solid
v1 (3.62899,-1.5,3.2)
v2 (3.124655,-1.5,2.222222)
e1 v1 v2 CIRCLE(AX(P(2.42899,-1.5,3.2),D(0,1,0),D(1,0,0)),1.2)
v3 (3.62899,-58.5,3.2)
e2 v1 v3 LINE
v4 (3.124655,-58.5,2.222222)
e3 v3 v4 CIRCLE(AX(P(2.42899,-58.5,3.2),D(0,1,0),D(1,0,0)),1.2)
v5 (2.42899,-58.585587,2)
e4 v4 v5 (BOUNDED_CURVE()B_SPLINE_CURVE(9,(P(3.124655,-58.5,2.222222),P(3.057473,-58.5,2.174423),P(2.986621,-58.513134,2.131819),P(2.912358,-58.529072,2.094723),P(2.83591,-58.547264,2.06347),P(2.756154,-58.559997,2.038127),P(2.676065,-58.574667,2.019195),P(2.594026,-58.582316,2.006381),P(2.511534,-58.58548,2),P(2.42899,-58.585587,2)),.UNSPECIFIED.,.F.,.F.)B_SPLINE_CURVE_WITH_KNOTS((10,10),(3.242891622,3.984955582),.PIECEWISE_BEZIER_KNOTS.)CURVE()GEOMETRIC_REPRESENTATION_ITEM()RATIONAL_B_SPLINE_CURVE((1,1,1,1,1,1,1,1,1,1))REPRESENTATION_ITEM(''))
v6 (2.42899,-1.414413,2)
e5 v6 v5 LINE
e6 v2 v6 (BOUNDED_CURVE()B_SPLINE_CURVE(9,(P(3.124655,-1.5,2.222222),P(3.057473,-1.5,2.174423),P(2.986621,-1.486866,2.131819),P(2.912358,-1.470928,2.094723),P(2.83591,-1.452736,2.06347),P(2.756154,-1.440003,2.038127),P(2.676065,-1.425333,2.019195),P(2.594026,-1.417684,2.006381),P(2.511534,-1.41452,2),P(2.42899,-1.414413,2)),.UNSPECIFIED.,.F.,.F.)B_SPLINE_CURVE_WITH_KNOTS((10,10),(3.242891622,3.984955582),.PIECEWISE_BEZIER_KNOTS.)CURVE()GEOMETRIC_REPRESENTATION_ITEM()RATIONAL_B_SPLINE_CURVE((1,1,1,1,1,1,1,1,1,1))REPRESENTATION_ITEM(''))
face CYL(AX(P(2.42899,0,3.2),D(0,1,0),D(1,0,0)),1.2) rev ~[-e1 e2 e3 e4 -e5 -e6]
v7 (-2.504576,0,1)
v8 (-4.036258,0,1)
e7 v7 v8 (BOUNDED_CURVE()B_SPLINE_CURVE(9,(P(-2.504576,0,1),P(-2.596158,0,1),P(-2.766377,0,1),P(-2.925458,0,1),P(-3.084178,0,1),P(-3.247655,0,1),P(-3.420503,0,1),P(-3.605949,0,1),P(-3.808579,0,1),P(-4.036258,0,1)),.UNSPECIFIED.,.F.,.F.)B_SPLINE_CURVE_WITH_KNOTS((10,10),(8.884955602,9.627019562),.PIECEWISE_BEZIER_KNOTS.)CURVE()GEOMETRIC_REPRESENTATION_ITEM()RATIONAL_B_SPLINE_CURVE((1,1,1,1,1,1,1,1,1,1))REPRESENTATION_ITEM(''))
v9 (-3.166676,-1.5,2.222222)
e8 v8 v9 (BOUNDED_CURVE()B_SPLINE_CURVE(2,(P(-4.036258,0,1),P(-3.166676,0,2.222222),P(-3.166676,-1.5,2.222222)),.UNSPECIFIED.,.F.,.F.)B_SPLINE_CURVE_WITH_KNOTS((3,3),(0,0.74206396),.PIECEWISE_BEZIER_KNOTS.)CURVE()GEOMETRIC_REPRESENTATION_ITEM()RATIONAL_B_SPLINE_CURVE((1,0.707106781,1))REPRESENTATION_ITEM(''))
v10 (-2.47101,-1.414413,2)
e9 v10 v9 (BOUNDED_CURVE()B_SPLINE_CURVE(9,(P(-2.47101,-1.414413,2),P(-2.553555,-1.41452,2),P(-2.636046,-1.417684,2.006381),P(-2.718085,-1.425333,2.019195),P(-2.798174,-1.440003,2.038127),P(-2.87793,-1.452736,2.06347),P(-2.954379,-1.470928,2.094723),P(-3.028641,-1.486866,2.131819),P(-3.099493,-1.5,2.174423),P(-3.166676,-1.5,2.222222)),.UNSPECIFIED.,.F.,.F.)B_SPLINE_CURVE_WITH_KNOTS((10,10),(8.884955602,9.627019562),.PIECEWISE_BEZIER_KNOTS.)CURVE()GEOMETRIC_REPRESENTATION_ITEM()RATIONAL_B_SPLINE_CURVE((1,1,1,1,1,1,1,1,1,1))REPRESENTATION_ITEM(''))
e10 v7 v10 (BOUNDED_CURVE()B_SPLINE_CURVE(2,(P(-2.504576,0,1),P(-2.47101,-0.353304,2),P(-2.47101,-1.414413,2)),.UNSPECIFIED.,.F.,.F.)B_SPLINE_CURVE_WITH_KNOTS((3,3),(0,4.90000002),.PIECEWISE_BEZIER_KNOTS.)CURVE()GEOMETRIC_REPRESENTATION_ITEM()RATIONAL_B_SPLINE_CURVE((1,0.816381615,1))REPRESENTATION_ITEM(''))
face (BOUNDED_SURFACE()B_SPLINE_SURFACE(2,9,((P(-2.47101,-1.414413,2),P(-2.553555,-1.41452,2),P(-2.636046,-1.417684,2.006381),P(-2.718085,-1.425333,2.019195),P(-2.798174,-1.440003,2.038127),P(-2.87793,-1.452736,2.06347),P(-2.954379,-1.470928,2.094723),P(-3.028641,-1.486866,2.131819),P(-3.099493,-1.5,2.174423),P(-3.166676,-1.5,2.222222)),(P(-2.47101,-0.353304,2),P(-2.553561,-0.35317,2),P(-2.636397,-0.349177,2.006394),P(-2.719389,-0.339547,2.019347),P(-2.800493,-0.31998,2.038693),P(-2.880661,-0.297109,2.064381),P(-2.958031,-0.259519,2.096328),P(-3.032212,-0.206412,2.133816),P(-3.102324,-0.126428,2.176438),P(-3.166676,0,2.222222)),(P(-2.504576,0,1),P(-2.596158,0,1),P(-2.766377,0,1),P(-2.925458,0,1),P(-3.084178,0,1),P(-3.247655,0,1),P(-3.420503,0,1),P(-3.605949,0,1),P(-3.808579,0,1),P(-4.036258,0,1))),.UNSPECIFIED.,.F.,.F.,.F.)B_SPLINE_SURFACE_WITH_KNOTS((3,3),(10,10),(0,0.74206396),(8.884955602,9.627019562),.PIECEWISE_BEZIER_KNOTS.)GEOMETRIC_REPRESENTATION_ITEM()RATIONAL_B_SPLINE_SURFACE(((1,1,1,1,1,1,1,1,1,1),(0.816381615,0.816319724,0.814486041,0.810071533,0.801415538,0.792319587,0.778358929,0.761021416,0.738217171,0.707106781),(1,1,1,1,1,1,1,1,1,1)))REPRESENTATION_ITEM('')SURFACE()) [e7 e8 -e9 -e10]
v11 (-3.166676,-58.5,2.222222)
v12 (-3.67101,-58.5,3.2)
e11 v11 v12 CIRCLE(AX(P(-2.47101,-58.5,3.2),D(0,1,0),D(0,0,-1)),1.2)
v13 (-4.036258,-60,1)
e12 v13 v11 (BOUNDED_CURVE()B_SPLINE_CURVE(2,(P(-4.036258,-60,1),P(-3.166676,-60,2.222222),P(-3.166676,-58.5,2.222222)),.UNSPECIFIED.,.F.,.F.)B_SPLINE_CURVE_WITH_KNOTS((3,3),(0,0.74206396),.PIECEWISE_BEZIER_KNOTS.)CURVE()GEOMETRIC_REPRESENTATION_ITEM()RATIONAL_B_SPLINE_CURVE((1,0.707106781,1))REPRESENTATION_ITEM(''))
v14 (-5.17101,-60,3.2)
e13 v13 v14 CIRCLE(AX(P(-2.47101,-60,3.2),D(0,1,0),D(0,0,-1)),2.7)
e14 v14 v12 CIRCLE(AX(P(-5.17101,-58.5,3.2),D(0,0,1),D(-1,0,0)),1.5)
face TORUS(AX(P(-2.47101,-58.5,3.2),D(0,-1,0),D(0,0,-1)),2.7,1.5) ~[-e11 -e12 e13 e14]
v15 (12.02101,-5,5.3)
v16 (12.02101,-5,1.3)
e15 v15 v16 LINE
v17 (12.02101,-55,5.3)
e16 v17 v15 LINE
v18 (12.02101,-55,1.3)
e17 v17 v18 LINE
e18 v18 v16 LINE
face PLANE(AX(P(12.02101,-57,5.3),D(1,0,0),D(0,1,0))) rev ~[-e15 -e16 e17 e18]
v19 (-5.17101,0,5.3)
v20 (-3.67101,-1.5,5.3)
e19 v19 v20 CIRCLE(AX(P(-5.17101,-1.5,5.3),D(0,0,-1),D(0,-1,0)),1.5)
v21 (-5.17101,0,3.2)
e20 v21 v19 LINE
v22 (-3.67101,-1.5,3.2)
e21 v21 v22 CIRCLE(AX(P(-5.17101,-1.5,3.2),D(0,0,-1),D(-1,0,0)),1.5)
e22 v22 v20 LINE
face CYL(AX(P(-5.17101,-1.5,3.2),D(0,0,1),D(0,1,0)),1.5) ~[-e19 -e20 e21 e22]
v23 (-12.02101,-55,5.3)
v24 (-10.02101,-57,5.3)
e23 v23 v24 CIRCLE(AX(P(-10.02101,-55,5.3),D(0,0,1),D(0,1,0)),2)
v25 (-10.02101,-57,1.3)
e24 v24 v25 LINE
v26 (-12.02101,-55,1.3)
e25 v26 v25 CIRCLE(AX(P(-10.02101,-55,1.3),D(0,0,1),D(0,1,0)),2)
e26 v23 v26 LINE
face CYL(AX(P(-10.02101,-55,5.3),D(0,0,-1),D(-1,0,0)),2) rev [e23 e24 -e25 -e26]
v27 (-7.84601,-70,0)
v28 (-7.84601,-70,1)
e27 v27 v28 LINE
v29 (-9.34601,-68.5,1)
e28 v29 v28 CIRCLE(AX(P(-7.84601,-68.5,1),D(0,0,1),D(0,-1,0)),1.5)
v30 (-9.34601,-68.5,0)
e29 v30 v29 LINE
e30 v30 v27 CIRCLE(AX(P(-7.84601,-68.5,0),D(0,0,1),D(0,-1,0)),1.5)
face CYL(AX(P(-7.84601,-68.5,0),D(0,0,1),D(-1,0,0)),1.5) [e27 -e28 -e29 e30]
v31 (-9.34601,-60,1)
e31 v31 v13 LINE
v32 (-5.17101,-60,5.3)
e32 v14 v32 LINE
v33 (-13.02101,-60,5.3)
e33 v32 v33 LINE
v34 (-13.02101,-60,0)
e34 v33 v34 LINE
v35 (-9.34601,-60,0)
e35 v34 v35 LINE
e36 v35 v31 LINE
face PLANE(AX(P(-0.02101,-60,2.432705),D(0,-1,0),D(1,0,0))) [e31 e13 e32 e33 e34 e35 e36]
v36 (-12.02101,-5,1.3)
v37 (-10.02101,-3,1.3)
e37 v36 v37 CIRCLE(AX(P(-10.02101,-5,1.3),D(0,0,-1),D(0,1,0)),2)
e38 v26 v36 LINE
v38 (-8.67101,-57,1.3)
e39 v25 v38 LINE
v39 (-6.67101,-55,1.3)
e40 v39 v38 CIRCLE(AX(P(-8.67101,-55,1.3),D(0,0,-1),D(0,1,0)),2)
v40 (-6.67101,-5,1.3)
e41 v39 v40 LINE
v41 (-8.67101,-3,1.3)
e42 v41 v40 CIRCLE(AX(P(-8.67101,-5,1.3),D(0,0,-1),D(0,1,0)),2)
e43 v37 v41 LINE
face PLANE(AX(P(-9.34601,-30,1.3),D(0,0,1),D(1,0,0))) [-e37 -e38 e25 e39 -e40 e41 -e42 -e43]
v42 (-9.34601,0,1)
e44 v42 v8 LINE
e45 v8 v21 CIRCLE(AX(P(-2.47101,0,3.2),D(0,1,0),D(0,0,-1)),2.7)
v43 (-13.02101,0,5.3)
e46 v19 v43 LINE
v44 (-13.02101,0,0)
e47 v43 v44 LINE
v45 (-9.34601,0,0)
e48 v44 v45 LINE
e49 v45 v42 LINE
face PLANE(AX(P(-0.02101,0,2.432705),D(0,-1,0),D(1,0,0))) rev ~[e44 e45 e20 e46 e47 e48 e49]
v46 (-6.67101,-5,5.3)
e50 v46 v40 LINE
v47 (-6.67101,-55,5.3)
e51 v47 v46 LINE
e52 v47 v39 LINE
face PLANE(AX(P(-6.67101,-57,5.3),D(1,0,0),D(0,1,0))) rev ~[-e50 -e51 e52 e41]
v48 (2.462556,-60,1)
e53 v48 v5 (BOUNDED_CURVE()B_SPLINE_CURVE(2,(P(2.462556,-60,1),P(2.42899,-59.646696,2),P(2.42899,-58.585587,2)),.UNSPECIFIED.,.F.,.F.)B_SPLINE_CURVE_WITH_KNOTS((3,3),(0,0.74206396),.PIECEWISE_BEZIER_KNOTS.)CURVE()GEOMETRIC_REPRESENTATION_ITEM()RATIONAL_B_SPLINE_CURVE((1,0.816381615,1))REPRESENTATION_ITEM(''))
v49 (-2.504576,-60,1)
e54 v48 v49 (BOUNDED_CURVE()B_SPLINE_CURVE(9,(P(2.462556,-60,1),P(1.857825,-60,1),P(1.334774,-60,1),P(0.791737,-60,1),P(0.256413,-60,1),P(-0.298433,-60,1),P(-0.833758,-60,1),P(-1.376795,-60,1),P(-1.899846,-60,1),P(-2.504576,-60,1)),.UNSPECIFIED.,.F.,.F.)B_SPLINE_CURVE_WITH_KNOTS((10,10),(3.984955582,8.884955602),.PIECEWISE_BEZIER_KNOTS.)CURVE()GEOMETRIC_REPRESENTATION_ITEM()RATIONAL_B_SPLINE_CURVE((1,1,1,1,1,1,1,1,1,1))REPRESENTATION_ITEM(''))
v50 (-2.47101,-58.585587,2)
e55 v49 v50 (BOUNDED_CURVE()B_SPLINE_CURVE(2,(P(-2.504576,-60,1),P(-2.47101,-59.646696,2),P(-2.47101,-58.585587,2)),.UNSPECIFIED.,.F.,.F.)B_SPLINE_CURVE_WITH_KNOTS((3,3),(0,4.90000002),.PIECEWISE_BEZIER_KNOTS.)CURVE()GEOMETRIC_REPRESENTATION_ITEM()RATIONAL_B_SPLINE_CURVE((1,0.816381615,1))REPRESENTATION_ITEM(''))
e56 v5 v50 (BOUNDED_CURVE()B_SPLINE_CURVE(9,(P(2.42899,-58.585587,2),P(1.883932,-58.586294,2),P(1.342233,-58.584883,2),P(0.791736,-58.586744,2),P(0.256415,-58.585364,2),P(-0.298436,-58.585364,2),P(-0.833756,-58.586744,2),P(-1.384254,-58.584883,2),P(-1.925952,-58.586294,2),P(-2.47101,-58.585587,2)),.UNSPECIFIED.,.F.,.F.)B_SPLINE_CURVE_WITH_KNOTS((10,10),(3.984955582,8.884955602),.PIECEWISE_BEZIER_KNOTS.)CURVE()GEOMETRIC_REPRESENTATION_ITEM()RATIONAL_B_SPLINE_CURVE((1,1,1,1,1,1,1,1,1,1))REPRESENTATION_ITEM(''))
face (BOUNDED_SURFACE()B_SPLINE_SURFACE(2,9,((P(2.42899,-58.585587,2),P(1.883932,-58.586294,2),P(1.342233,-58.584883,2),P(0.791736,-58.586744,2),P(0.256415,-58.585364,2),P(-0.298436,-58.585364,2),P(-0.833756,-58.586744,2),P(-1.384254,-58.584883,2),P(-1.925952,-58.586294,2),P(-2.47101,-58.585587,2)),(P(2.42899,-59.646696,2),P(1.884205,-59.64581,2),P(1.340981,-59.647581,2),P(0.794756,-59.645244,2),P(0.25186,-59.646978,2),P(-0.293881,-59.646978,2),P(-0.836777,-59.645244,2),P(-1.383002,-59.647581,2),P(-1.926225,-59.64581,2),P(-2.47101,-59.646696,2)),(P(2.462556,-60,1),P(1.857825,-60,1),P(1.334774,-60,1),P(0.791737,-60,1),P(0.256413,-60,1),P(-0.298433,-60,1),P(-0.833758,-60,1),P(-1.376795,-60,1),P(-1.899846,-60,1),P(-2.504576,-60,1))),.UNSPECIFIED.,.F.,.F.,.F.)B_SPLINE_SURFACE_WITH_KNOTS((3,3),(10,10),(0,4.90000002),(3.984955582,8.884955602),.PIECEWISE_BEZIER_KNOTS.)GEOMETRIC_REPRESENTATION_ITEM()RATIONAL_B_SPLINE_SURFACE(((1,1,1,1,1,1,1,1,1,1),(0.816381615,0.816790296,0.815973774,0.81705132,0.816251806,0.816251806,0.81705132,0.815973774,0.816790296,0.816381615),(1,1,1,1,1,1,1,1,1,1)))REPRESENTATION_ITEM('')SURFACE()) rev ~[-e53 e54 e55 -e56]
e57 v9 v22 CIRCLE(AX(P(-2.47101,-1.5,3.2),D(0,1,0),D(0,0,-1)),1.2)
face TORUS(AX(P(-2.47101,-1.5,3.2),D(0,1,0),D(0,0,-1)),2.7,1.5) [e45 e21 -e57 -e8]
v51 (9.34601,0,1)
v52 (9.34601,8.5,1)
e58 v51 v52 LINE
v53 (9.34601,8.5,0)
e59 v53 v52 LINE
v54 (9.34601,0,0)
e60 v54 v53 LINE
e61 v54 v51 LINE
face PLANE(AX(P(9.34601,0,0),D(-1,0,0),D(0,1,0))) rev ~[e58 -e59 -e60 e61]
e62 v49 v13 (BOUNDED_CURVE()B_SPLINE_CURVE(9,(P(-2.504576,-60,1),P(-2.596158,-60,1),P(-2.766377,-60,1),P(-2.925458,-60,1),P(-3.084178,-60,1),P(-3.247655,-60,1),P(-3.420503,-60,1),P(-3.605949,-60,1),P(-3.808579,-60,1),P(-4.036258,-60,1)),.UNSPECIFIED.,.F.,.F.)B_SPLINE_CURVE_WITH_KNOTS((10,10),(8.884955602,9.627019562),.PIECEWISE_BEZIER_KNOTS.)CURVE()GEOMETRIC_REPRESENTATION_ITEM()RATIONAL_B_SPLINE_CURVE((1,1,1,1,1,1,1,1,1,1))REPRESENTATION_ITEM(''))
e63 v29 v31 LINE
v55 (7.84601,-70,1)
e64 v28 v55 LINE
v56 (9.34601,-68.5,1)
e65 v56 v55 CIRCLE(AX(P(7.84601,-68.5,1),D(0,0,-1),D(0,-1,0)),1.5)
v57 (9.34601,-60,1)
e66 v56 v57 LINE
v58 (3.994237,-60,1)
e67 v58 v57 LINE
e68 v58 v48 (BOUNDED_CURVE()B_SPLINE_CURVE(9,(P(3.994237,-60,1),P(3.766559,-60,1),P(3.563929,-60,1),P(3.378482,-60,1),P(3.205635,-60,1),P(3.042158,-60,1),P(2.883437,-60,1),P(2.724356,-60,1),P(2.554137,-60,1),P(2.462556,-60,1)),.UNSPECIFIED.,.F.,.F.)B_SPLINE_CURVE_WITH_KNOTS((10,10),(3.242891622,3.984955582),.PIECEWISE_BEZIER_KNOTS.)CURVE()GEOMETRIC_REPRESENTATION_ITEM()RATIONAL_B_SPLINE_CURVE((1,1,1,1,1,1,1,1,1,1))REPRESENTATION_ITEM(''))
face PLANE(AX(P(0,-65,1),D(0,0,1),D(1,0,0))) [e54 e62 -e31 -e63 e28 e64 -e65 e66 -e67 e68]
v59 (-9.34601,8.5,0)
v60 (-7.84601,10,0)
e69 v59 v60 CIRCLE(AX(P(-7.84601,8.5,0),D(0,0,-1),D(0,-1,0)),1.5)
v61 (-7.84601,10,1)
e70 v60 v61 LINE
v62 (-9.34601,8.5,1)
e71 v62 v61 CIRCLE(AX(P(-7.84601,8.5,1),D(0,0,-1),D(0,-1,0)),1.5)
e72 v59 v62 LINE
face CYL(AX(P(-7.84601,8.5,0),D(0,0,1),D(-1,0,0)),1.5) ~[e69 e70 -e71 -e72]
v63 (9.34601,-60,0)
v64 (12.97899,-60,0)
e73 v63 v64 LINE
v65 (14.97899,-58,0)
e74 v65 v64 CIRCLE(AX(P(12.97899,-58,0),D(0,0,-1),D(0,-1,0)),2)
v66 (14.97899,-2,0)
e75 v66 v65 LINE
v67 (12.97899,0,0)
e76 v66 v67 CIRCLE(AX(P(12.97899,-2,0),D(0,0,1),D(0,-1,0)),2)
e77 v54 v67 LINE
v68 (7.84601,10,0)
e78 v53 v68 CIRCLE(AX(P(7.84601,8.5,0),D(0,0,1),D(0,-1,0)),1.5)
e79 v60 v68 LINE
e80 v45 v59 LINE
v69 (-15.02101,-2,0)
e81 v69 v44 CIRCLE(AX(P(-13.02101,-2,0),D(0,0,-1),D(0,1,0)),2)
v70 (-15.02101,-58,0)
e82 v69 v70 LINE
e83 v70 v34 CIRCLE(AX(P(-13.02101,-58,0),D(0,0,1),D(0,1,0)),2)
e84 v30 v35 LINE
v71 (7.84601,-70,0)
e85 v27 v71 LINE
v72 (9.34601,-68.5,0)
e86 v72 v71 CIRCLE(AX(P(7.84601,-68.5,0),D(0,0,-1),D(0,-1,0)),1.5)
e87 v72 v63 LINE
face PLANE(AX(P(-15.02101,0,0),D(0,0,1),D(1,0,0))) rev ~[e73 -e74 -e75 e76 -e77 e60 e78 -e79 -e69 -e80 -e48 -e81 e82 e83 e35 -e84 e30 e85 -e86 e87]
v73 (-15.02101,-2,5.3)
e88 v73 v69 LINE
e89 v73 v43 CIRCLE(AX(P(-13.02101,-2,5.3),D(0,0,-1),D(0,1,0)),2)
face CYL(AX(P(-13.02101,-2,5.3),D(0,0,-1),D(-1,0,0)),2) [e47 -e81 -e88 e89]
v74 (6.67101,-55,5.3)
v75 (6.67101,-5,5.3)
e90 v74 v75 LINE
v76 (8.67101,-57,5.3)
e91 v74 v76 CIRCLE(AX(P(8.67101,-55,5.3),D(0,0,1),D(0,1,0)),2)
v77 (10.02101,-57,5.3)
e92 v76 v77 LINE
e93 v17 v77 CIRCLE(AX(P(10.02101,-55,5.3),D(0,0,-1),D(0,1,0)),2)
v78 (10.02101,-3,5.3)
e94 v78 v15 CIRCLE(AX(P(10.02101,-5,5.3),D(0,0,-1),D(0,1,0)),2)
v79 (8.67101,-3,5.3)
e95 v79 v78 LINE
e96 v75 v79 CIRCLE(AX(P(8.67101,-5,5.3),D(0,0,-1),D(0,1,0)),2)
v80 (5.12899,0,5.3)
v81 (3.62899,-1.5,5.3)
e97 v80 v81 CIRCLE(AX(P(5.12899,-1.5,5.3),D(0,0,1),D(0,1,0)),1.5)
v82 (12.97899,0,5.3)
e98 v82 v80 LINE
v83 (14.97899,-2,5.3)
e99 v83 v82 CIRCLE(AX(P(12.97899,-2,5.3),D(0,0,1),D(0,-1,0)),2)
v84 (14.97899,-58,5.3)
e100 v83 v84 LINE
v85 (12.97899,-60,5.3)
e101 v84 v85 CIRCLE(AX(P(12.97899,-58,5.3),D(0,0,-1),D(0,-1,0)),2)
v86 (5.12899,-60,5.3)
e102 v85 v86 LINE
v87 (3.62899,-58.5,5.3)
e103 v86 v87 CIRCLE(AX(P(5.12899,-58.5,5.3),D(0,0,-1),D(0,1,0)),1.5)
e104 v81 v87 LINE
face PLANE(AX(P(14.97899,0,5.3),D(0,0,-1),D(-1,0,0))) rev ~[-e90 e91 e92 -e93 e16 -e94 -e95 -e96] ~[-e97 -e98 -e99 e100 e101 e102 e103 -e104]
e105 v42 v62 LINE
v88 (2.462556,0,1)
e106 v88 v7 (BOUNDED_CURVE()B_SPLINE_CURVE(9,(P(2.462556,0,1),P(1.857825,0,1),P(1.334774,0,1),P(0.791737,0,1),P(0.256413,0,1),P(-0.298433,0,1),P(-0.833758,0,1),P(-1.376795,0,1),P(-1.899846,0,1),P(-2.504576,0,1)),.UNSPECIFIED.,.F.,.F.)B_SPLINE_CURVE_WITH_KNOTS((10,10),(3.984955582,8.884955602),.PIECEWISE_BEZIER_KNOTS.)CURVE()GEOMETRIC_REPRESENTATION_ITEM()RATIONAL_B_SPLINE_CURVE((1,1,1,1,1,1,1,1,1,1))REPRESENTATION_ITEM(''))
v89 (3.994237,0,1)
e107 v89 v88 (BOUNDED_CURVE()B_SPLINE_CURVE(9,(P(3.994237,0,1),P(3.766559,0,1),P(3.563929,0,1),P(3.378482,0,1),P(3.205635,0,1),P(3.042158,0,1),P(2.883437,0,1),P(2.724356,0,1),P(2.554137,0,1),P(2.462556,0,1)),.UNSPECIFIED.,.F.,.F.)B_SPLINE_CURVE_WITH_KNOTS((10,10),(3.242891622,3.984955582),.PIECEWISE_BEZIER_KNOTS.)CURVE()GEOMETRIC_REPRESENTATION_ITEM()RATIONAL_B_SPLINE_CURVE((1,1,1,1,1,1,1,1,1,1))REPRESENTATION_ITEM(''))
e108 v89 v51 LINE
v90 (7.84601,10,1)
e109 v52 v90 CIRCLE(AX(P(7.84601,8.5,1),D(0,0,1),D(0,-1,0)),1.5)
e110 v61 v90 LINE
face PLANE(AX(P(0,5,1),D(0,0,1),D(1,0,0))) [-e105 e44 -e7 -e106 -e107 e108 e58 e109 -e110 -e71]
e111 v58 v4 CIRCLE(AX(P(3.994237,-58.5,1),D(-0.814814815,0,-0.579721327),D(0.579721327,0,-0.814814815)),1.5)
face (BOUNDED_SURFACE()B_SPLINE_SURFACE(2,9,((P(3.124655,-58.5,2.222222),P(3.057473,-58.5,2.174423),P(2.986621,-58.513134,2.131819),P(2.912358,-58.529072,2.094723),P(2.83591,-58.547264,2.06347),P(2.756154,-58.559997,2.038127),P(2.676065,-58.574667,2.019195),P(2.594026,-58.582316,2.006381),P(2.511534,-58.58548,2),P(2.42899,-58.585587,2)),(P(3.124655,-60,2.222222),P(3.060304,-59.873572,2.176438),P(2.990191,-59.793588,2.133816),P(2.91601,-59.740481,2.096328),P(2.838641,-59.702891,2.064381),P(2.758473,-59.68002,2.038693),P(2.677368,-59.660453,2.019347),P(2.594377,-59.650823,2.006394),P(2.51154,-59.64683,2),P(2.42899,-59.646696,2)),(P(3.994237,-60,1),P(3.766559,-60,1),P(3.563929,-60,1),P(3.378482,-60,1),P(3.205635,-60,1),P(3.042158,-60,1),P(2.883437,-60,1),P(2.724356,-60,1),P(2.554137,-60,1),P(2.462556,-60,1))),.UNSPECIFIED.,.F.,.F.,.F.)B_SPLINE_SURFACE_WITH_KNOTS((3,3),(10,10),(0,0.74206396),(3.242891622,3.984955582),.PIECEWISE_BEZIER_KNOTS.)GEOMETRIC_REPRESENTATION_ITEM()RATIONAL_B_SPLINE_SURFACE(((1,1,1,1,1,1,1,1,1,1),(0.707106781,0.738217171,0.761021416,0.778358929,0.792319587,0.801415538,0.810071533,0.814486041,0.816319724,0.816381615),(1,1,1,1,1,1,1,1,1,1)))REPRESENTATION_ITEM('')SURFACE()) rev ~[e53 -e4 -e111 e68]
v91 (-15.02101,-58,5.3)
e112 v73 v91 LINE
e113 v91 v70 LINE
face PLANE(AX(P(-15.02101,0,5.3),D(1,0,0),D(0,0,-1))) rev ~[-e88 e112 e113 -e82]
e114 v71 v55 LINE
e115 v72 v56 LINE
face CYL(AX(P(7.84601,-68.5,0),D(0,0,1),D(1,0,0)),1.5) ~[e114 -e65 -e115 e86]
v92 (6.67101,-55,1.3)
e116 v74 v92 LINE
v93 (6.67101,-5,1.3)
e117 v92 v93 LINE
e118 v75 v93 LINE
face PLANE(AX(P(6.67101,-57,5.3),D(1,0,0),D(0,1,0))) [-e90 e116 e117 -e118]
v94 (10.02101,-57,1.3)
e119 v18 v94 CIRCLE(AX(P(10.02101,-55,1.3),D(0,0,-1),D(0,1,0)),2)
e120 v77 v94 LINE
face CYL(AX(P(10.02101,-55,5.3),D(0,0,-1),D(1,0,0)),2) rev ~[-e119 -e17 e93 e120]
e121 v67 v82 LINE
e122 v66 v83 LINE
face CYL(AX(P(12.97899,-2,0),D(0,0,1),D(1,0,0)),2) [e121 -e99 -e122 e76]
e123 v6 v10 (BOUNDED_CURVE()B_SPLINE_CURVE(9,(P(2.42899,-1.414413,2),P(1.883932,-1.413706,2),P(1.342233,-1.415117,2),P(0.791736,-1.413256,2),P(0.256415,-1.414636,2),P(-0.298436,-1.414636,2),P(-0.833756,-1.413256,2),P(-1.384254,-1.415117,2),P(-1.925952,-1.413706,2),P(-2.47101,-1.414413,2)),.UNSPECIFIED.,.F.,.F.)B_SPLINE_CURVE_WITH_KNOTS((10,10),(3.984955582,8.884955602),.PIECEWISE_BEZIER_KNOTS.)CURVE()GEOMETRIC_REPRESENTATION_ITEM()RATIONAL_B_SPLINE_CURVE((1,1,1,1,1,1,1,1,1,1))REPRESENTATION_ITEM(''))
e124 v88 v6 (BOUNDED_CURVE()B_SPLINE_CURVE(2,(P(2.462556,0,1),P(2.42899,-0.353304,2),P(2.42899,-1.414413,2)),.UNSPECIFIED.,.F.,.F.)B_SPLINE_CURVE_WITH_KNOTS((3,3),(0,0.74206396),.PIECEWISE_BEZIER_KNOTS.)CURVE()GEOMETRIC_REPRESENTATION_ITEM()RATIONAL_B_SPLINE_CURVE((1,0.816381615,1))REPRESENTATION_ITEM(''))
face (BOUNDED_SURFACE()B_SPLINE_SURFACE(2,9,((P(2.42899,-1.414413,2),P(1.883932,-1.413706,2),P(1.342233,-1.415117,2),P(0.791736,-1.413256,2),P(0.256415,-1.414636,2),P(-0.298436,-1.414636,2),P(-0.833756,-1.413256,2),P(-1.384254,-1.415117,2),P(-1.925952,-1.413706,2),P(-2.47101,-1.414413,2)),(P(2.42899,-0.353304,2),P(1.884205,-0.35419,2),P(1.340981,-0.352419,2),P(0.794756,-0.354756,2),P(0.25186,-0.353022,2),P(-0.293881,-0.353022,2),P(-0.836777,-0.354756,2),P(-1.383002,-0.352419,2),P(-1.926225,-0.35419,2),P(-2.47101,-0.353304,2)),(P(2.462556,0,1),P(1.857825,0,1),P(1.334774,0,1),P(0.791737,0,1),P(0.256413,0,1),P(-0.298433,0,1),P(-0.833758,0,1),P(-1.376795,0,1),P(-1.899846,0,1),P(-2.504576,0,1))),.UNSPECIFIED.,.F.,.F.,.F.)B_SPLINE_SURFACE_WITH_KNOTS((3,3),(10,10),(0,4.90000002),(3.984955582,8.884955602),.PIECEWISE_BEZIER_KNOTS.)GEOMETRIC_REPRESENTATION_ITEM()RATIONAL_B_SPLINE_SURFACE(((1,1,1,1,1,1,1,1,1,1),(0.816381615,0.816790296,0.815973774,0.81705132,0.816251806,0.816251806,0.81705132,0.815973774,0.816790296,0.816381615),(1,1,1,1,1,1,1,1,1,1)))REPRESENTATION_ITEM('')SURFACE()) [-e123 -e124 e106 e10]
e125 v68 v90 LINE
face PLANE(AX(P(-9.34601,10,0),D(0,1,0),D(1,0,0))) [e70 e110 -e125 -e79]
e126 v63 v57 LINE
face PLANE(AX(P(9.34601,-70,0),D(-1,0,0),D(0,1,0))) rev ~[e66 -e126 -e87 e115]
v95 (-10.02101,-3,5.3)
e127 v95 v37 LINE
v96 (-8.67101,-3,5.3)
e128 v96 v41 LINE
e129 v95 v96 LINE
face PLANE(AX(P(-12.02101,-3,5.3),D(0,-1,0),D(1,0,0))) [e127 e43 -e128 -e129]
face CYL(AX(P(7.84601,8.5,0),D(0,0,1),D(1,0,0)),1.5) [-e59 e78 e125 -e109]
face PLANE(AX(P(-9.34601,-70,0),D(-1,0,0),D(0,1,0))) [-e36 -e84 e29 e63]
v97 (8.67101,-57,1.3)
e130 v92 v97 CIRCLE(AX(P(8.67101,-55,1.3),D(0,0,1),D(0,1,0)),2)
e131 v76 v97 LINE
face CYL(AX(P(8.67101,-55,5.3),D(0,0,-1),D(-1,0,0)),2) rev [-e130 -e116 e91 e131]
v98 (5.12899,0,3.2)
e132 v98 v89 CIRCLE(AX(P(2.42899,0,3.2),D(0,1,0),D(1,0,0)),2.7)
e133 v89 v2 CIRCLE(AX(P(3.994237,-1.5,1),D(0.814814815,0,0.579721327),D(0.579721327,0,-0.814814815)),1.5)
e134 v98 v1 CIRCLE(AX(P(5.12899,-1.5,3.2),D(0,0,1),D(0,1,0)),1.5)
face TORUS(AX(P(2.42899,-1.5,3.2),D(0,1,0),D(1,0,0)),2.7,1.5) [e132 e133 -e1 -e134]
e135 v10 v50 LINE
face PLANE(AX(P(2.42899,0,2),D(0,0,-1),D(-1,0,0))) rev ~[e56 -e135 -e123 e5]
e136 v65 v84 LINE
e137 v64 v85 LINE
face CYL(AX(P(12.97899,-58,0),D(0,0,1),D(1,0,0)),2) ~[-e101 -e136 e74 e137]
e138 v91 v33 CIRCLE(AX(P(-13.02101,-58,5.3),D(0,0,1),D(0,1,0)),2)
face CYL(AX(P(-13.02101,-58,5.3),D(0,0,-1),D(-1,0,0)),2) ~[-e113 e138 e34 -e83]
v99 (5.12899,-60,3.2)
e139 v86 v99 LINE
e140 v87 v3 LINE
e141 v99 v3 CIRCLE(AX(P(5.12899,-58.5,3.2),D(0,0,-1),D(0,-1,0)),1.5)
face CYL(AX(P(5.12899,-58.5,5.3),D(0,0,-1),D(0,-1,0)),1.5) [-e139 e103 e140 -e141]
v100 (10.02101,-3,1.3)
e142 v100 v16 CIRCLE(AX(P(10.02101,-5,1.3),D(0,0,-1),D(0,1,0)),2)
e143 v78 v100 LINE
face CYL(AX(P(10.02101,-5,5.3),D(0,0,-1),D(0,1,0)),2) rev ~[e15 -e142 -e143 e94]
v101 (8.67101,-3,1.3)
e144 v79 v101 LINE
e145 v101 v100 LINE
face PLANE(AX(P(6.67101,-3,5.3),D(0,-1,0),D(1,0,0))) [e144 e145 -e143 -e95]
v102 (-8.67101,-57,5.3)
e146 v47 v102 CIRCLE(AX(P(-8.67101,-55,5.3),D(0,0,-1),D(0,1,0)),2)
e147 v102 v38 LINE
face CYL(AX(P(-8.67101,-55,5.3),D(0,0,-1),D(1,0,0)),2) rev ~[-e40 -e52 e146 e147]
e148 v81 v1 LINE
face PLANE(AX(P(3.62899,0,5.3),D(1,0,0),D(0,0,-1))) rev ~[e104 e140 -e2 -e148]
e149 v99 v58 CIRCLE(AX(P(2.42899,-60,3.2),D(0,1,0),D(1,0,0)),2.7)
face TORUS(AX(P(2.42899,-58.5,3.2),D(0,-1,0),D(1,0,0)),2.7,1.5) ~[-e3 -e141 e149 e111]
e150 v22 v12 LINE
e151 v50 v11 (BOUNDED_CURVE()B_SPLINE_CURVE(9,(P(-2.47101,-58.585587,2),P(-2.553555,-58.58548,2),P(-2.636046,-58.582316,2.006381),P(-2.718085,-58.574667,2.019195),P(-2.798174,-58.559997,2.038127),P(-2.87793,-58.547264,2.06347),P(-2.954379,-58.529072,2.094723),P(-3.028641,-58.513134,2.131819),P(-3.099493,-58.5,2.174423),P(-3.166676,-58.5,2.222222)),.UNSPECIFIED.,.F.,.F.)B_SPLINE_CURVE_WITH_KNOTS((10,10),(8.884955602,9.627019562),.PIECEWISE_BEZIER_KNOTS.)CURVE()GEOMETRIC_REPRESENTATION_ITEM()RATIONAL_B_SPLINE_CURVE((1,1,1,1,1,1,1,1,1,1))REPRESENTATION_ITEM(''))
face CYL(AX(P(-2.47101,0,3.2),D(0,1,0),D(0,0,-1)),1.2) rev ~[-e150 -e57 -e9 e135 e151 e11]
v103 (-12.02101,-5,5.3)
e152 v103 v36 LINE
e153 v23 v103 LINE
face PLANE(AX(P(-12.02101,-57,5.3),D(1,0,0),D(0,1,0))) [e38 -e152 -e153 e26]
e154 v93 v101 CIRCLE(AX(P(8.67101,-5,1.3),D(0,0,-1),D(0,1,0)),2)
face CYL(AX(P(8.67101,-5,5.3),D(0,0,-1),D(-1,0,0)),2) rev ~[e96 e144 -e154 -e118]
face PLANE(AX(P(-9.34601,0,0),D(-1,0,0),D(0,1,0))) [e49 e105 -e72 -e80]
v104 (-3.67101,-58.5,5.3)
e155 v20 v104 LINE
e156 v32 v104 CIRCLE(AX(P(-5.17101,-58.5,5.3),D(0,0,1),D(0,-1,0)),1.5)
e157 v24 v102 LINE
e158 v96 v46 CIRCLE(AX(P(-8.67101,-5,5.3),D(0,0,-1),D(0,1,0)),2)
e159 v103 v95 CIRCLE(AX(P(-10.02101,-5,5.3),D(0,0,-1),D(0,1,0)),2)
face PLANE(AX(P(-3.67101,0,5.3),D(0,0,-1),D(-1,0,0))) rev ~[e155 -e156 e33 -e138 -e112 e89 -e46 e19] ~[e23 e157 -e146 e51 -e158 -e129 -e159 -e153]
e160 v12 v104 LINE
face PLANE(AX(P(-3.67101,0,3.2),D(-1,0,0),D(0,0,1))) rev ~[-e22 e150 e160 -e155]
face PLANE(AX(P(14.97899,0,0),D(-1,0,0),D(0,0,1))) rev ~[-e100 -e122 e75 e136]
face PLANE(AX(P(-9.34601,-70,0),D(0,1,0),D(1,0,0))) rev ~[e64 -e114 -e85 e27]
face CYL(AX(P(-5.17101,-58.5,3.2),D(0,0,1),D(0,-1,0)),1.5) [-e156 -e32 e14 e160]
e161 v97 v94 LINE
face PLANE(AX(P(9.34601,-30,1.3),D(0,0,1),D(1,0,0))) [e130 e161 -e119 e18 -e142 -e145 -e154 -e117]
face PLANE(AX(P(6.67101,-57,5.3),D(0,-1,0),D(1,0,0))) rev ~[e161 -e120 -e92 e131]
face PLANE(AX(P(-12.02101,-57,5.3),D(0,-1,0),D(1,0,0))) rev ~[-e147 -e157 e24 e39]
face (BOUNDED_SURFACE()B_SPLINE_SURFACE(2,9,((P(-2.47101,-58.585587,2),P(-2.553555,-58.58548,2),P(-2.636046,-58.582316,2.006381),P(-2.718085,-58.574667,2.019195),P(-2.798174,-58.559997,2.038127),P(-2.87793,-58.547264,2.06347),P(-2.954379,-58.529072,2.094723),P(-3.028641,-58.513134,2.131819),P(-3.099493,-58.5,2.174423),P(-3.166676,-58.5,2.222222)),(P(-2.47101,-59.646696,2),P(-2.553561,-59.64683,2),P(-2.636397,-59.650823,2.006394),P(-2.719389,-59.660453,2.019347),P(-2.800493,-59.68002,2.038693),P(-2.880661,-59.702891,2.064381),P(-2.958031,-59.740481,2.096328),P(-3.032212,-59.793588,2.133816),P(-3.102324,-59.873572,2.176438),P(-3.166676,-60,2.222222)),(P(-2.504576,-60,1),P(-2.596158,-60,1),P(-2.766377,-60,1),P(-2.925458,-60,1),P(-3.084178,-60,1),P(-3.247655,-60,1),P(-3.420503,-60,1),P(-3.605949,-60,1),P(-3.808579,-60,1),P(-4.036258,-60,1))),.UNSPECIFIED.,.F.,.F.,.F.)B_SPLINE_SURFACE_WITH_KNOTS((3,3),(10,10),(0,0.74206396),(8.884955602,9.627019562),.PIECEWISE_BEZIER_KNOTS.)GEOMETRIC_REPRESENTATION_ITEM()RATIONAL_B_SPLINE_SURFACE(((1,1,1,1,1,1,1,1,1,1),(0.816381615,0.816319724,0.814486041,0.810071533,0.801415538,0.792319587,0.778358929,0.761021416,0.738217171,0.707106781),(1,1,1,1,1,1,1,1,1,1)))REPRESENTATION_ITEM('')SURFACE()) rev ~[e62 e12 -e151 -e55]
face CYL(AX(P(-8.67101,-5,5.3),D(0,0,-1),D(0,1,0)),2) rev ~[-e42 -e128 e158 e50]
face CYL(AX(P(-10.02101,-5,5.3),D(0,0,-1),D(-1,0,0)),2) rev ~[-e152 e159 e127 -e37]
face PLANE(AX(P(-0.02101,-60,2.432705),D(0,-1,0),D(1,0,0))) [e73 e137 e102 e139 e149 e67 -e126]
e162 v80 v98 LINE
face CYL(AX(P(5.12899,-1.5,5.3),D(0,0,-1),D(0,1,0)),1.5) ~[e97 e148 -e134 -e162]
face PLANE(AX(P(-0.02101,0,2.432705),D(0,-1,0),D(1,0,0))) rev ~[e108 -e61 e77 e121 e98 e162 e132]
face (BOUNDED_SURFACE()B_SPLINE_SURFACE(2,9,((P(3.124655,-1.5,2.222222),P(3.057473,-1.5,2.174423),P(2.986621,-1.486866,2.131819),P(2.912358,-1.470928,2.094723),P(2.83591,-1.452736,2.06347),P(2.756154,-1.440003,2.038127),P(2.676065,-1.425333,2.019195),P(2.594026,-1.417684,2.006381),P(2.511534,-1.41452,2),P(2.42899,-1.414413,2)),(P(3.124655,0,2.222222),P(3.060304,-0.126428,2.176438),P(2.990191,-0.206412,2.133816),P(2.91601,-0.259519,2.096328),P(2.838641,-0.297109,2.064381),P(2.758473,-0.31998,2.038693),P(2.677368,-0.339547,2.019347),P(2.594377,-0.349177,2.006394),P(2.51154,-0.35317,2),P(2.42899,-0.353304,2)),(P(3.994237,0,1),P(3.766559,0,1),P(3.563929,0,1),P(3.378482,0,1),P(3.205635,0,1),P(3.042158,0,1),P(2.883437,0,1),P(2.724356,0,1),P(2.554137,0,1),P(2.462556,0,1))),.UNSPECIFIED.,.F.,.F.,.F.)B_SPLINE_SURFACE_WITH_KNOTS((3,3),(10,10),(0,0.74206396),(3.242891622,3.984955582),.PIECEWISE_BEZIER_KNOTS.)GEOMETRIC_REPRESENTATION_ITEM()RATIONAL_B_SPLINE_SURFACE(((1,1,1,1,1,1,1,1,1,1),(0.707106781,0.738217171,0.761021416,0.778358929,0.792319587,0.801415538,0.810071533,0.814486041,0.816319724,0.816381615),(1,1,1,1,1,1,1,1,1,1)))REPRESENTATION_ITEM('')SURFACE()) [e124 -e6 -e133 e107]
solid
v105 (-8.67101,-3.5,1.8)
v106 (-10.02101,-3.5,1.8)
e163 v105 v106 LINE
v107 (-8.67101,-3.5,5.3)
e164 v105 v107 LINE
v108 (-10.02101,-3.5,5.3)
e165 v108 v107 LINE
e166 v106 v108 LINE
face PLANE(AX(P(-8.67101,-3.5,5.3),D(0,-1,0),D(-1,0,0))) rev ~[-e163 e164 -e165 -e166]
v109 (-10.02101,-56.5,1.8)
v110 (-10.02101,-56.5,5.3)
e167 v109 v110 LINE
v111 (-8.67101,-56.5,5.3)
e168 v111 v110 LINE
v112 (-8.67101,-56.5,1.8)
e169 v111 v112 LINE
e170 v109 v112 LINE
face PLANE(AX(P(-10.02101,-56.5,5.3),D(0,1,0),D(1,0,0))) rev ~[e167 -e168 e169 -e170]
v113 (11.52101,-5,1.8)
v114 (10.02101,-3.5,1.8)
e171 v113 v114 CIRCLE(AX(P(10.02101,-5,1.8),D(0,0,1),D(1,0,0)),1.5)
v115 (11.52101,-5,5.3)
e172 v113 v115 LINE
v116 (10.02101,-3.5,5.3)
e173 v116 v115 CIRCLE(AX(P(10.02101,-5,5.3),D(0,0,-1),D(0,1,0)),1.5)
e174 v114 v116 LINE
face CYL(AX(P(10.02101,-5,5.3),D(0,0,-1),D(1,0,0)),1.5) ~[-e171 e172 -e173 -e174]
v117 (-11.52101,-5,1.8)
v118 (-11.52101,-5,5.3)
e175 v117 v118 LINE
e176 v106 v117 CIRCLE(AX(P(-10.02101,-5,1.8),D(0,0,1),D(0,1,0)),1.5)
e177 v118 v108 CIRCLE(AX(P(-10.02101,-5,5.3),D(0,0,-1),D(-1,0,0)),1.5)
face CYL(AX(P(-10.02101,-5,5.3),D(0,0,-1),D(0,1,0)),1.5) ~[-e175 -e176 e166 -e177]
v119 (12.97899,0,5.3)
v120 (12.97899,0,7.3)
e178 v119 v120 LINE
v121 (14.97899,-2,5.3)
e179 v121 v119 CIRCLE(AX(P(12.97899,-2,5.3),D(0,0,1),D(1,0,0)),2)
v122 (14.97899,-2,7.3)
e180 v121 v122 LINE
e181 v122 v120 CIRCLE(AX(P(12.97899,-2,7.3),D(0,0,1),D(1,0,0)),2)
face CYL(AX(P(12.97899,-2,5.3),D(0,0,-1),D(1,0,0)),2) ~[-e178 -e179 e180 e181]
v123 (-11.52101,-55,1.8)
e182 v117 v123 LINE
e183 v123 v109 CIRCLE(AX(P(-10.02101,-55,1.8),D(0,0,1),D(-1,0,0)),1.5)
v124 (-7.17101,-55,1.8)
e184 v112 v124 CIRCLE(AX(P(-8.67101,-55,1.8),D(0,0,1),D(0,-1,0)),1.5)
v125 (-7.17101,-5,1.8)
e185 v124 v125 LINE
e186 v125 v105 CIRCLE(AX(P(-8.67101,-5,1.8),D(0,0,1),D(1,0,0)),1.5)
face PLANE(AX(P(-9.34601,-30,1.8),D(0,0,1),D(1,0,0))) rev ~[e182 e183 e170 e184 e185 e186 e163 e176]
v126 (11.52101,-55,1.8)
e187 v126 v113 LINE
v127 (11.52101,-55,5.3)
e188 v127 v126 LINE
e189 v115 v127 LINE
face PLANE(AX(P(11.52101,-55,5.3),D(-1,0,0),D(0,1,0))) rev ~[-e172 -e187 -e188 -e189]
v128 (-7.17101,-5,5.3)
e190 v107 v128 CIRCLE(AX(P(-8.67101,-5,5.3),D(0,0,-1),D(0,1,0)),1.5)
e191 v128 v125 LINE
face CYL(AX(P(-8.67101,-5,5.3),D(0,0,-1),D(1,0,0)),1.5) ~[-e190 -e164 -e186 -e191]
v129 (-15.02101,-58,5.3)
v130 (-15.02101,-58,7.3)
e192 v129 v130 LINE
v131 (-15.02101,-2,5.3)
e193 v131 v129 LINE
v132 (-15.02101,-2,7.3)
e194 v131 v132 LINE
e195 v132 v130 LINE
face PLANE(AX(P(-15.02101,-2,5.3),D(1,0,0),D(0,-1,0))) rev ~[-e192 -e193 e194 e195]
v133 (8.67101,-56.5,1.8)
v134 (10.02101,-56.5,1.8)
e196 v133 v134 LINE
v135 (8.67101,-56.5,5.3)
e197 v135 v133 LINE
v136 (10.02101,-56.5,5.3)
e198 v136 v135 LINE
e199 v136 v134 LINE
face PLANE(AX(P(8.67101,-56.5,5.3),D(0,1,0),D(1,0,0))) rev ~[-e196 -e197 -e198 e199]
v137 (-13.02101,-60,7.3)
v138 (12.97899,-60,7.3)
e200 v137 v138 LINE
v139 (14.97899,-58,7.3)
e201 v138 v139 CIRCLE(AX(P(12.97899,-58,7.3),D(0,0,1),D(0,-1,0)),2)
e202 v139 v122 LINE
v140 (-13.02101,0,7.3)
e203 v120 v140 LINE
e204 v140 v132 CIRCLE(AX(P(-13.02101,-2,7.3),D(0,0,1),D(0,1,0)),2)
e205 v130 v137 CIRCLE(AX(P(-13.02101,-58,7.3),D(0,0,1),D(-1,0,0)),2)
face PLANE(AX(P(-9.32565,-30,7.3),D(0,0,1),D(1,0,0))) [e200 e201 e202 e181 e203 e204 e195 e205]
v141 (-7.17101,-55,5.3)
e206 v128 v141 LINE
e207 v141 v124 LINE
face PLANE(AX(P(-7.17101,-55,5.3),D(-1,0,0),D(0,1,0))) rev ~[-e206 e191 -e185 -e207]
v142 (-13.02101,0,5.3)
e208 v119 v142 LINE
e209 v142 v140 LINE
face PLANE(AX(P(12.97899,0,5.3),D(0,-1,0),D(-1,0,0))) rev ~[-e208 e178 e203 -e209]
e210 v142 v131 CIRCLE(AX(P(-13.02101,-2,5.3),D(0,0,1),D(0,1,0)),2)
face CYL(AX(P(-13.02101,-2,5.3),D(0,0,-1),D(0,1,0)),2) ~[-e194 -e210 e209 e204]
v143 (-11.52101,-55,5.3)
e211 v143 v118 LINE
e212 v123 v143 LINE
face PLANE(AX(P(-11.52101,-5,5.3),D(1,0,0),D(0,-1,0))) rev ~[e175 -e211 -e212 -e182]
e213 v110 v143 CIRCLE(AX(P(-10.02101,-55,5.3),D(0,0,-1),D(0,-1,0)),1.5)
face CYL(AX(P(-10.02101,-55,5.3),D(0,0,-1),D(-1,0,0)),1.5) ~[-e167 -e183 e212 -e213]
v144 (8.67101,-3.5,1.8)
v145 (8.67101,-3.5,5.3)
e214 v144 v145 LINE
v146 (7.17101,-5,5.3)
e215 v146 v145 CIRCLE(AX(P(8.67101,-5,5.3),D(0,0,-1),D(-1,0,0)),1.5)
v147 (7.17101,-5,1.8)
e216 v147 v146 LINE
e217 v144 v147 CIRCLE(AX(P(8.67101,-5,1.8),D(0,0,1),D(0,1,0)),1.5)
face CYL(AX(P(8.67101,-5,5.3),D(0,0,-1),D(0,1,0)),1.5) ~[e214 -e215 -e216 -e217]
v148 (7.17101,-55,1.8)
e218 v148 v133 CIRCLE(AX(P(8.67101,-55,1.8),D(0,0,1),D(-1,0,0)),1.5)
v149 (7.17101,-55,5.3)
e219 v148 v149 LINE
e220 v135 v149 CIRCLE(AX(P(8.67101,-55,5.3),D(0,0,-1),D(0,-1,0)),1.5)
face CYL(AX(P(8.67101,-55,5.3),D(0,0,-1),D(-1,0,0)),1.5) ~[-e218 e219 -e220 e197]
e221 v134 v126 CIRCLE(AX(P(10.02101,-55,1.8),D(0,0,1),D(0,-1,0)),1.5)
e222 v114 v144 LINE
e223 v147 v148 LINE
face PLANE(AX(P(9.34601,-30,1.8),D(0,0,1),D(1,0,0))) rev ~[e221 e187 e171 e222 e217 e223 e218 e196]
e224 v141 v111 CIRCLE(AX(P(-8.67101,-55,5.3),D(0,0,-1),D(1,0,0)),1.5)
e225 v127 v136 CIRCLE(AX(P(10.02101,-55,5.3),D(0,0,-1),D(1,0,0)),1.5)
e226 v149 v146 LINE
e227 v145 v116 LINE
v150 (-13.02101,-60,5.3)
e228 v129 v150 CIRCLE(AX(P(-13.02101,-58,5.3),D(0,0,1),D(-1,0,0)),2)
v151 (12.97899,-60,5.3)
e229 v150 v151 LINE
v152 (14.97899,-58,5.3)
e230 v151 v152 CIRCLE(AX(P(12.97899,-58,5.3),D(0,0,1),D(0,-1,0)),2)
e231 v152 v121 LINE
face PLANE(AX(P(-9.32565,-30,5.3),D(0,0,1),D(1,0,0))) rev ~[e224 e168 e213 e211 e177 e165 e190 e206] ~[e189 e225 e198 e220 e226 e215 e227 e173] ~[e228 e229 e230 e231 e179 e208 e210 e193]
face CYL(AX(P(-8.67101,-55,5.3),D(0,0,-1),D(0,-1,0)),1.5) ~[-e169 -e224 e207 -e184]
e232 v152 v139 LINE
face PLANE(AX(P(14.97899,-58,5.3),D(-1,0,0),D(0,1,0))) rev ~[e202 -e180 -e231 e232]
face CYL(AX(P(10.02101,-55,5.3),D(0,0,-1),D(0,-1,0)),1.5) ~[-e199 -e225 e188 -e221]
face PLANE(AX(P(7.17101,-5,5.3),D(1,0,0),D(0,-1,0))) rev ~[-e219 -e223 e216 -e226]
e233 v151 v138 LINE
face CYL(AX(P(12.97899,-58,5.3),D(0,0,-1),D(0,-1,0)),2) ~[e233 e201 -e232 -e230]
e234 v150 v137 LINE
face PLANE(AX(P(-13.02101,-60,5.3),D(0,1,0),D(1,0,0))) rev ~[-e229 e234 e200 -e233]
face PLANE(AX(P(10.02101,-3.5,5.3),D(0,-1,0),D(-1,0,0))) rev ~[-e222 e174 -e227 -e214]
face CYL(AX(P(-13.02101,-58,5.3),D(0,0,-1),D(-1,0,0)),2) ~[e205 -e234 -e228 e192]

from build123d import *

# Parameters (mm, degrees)
F1_DEPTH      = 60
F2_W          = 5.35
F2_H          = 54
F3_DEPTH      = 4
F4_R          = 2
F5_W          = 18.692020604
F5_H          = 10
F6_DEPTH      = 1
F7_R          = 1.5
F9_DEPTH      = 3.5
F9_DEPTH_BACK = 2
F10_DEPTH     = 2


with BuildPart() as f1:
    # F0 (on Front) → F1 (new body)
    with BuildSketch(Plane.XZ):
        with BuildLine():
            Line((-15.021010302, 0), (0, 0))
            Line((0, 0), (14.978989698, 0))
            Line((14.978989698, 0), (14.978989698, 5.3))
            Line((14.978989698, 5.3), (3.628989698, 5.3))
            Line((3.628989698, 5.3), (3.628989698, 3.2))
            ThreePointArc((3.628989698, 3.2), (3.2775178354, 2.3514718626), (2.428989698, 2))
            Line((2.428989698, 2), (0.203989698, 2))
            Line((0.203989698, 2), (-0.246010302, 2))
            Line((-0.246010302, 2), (-2.471010302, 2))
            ThreePointArc((-2.471010302, 2), (-3.3195384394, 2.3514718626), (-3.671010302, 3.2))
            Line((-3.671010302, 3.2), (-3.671010302, 5.3))
            Line((-3.671010302, 5.3), (-15.021010302, 5.3))
            Line((-15.021010302, 5.3), (-15.021010302, 0))
        make_face()
    extrude(amount=F1_DEPTH)

    # F2 (on face) → F3 (cut)
    with BuildSketch(Plane.XY.offset(5.3)):
        with Locations((-9.346010302, -30)):
            Rectangle(F2_W, F2_H)
        with Locations((9.346010302, -30)):
            Rectangle(F2_W, F2_H)
    extrude(amount=-F3_DEPTH, mode=Mode.SUBTRACT)

    # F4
    f4_edges = [f1.edges().sort_by_distance(p)[0] for p in [
        (-6.67101, -3, 3.3),
        (-12.02101, -3, 3.3),
        (-12.02101, -57, 3.3),
        (-6.67101, -57, 3.3),
        (6.67101, -3, 3.3),
        (12.02101, -3, 3.3),
        (6.67101, -57, 3.3),
        (12.02101, -57, 3.3),
        (-15.02101, 0, 2.65),
        (14.97899, 0, 2.65),
        (14.97899, -60, 2.65),
        (-15.02101, -60, 2.65),
    ]]
    fillet(f4_edges, radius=F4_R)

    # F5 (on Top) → F6 (join)
    with BuildSketch(Plane.XY):
        with Locations((0, 5)):
            Rectangle(F5_W, F5_H)
        with Locations((0, -65)):
            Rectangle(F5_W, F5_H)
    extrude(amount=F6_DEPTH)

    # F7
    f7_edges = [f1.edges().sort_by_distance(p)[0] for p in [
        (-9.34601, -70, 0.5),
        (9.34601, -70, 0.5),
        (-0.02101, -60, 2),
        (-0.02101, 0, 2),
        (-9.34601, 10, 0.5),
        (9.34601, 10, 0.5),
    ]]
    fillet(f7_edges, radius=F7_R)


with BuildPart() as f9:
    # F8 (on face) → F9 (new body, two sides)
    with BuildSketch(Plane.XY.offset(5.3)) as f9_sk:
        with BuildLine():
            Line((11.521010302, -55), (11.521010302, -5))
            ThreePointArc((11.521010302, -5), (11.0816704738, -3.9393398282), (10.021010302, -3.5))
            Line((10.021010302, -3.5), (8.671010302, -3.5))
            ThreePointArc((8.671010302, -3.5), (7.6103501302, -3.9393398282), (7.171010302, -5))
            Line((7.171010302, -5), (7.171010302, -55))
            ThreePointArc((7.171010302, -55), (7.6103501302, -56.0606601718), (8.671010302, -56.5))
            Line((8.671010302, -56.5), (10.021010302, -56.5))
            ThreePointArc((10.021010302, -56.5), (11.0816704738, -56.0606601718), (11.521010302, -55))
        make_face()
    extrude(amount=-F9_DEPTH)
    extrude(f9_sk.sketch, amount=F9_DEPTH_BACK)



with BuildPart() as f9b:
    # F8 (on face) → F9, piece 2 (new body, two sides)
    with BuildSketch(Plane.XY.offset(5.3)) as f9_2_sk:
        with BuildLine():
            ThreePointArc((-7.171010302, -5), (-7.6103501302, -3.9393398282), (-8.671010302, -3.5))
            Line((-8.671010302, -3.5), (-10.021010302, -3.5))
            ThreePointArc((-10.021010302, -3.5), (-11.0816704738, -3.9393398282), (-11.521010302, -5))
            Line((-11.521010302, -5), (-11.521010302, -55))
            ThreePointArc((-11.521010302, -55), (-11.0816704738, -56.0606601718), (-10.021010302, -56.5))
            Line((-10.021010302, -56.5), (-8.671010302, -56.5))
            ThreePointArc((-8.671010302, -56.5), (-7.6103501302, -56.0606601718), (-7.171010302, -55))
            Line((-7.171010302, -55), (-7.171010302, -5))
        make_face()
    extrude(amount=-F9_DEPTH)
    extrude(f9_2_sk.sketch, amount=F9_DEPTH_BACK)


with BuildPart() as f9_1:
    add(f9.part)

    add(f9b.part)  # F10 merges F9b
    # F8 (on face) → F10 (join)
    with BuildSketch(Plane.XY.offset(5.3)):
        with BuildLine():
            Line((-15.021010302, -2), (-15.021010302, -58))
            ThreePointArc((-15.021010302, -58), (-14.4352238644, -59.4142135624), (-13.021010302, -60))
            Line((-13.021010302, -60), (-5.171010302, -60))
            ThreePointArc((-5.171010302, -60), (-4.1103501302, -59.5606601718), (-3.671010302, -58.5))
            Line((-3.671010302, -58.5), (-3.671010302, -1.5))
            ThreePointArc((-3.671010302, -1.5), (-4.1103501302, -0.4393398282), (-5.171010302, 0))
            Line((-5.171010302, 0), (-13.021010302, 0))
            ThreePointArc((-13.021010302, 0), (-14.4352238644, -0.5857864376), (-15.021010302, -2))
        make_face()
        with BuildLine():
            Line((-12.021010302, -55), (-12.021010302, -5))
            ThreePointArc((-12.021010302, -5), (-11.4352238644, -3.5857864376), (-10.021010302, -3))
            Line((-10.021010302, -3), (-8.671010302, -3))
            ThreePointArc((-8.671010302, -3), (-7.2567967396, -3.5857864376), (-6.671010302, -5))
            Line((-6.671010302, -5), (-6.671010302, -55))
            ThreePointArc((-6.671010302, -55), (-7.2567967396, -56.4142135624), (-8.671010302, -57))
            Line((-8.671010302, -57), (-10.021010302, -57))
            ThreePointArc((-10.021010302, -57), (-11.4352238644, -56.4142135624), (-12.021010302, -55))
        make_face(mode=Mode.SUBTRACT)
        with BuildLine():
            ThreePointArc((-3.671010302, -58.5), (-4.1103501302, -59.5606601718), (-5.171010302, -60))
            Line((-5.171010302, -60), (5.128989698, -60))
            Line((5.128989698, -60), (12.978989698, -60))
            ThreePointArc((12.978989698, -60), (14.3932032604, -59.4142135624), (14.978989698, -58))
            Line((14.978989698, -58), (14.978989698, -2))
            ThreePointArc((14.978989698, -2), (14.3932032604, -0.5857864376), (12.978989698, 0))
            Line((12.978989698, 0), (5.128989698, 0))
            Line((5.128989698, 0), (-5.171010302, 0))
            ThreePointArc((-5.171010302, 0), (-4.1103501302, -0.4393398282), (-3.671010302, -1.5))
            Line((-3.671010302, -1.5), (-3.671010302, -58.5))
        make_face()
        with BuildLine():
            ThreePointArc((10.021010302, -3.5), (11.0816704738, -3.9393398282), (11.521010302, -5))
            Line((11.521010302, -5), (11.521010302, -55))
            ThreePointArc((11.521010302, -55), (11.0816704738, -56.0606601718), (10.021010302, -56.5))
            Line((10.021010302, -56.5), (8.671010302, -56.5))
            ThreePointArc((8.671010302, -56.5), (7.6103501302, -56.0606601718), (7.171010302, -55))
            Line((7.171010302, -55), (7.171010302, -5))
            ThreePointArc((7.171010302, -5), (7.6103501302, -3.9393398282), (8.671010302, -3.5))
            Line((8.671010302, -3.5), (10.021010302, -3.5))
        make_face(mode=Mode.SUBTRACT)
        with BuildLine():
            ThreePointArc((-10.021010302, -3), (-11.4352238644, -3.5857864376), (-12.021010302, -5))
            Line((-12.021010302, -5), (-12.021010302, -55))
            ThreePointArc((-12.021010302, -55), (-11.4352238644, -56.4142135624), (-10.021010302, -57))
            Line((-10.021010302, -57), (-8.671010302, -57))
            ThreePointArc((-8.671010302, -57), (-7.2567967396, -56.4142135624), (-6.671010302, -55))
            Line((-6.671010302, -55), (-6.671010302, -5))
            ThreePointArc((-6.671010302, -5), (-7.2567967396, -3.5857864376), (-8.671010302, -3))
            Line((-8.671010302, -3), (-10.021010302, -3))
        make_face()
        with BuildLine():
            Line((-10.021010302, -3.5), (-8.671010302, -3.5))
            ThreePointArc((-8.671010302, -3.5), (-7.6103501302, -3.9393398282), (-7.171010302, -5))
            Line((-7.171010302, -5), (-7.171010302, -55))
            ThreePointArc((-7.171010302, -55), (-7.6103501302, -56.0606601718), (-8.671010302, -56.5))
            Line((-8.671010302, -56.5), (-10.021010302, -56.5))
            ThreePointArc((-10.021010302, -56.5), (-11.0816704738, -56.0606601718), (-11.521010302, -55))
            Line((-11.521010302, -55), (-11.521010302, -5))
            ThreePointArc((-11.521010302, -5), (-11.0816704738, -3.9393398282), (-10.021010302, -3.5))
        make_face(mode=Mode.SUBTRACT)
    extrude(amount=F10_DEPTH)


solid = Compound([f1.part, f9_1.part])
